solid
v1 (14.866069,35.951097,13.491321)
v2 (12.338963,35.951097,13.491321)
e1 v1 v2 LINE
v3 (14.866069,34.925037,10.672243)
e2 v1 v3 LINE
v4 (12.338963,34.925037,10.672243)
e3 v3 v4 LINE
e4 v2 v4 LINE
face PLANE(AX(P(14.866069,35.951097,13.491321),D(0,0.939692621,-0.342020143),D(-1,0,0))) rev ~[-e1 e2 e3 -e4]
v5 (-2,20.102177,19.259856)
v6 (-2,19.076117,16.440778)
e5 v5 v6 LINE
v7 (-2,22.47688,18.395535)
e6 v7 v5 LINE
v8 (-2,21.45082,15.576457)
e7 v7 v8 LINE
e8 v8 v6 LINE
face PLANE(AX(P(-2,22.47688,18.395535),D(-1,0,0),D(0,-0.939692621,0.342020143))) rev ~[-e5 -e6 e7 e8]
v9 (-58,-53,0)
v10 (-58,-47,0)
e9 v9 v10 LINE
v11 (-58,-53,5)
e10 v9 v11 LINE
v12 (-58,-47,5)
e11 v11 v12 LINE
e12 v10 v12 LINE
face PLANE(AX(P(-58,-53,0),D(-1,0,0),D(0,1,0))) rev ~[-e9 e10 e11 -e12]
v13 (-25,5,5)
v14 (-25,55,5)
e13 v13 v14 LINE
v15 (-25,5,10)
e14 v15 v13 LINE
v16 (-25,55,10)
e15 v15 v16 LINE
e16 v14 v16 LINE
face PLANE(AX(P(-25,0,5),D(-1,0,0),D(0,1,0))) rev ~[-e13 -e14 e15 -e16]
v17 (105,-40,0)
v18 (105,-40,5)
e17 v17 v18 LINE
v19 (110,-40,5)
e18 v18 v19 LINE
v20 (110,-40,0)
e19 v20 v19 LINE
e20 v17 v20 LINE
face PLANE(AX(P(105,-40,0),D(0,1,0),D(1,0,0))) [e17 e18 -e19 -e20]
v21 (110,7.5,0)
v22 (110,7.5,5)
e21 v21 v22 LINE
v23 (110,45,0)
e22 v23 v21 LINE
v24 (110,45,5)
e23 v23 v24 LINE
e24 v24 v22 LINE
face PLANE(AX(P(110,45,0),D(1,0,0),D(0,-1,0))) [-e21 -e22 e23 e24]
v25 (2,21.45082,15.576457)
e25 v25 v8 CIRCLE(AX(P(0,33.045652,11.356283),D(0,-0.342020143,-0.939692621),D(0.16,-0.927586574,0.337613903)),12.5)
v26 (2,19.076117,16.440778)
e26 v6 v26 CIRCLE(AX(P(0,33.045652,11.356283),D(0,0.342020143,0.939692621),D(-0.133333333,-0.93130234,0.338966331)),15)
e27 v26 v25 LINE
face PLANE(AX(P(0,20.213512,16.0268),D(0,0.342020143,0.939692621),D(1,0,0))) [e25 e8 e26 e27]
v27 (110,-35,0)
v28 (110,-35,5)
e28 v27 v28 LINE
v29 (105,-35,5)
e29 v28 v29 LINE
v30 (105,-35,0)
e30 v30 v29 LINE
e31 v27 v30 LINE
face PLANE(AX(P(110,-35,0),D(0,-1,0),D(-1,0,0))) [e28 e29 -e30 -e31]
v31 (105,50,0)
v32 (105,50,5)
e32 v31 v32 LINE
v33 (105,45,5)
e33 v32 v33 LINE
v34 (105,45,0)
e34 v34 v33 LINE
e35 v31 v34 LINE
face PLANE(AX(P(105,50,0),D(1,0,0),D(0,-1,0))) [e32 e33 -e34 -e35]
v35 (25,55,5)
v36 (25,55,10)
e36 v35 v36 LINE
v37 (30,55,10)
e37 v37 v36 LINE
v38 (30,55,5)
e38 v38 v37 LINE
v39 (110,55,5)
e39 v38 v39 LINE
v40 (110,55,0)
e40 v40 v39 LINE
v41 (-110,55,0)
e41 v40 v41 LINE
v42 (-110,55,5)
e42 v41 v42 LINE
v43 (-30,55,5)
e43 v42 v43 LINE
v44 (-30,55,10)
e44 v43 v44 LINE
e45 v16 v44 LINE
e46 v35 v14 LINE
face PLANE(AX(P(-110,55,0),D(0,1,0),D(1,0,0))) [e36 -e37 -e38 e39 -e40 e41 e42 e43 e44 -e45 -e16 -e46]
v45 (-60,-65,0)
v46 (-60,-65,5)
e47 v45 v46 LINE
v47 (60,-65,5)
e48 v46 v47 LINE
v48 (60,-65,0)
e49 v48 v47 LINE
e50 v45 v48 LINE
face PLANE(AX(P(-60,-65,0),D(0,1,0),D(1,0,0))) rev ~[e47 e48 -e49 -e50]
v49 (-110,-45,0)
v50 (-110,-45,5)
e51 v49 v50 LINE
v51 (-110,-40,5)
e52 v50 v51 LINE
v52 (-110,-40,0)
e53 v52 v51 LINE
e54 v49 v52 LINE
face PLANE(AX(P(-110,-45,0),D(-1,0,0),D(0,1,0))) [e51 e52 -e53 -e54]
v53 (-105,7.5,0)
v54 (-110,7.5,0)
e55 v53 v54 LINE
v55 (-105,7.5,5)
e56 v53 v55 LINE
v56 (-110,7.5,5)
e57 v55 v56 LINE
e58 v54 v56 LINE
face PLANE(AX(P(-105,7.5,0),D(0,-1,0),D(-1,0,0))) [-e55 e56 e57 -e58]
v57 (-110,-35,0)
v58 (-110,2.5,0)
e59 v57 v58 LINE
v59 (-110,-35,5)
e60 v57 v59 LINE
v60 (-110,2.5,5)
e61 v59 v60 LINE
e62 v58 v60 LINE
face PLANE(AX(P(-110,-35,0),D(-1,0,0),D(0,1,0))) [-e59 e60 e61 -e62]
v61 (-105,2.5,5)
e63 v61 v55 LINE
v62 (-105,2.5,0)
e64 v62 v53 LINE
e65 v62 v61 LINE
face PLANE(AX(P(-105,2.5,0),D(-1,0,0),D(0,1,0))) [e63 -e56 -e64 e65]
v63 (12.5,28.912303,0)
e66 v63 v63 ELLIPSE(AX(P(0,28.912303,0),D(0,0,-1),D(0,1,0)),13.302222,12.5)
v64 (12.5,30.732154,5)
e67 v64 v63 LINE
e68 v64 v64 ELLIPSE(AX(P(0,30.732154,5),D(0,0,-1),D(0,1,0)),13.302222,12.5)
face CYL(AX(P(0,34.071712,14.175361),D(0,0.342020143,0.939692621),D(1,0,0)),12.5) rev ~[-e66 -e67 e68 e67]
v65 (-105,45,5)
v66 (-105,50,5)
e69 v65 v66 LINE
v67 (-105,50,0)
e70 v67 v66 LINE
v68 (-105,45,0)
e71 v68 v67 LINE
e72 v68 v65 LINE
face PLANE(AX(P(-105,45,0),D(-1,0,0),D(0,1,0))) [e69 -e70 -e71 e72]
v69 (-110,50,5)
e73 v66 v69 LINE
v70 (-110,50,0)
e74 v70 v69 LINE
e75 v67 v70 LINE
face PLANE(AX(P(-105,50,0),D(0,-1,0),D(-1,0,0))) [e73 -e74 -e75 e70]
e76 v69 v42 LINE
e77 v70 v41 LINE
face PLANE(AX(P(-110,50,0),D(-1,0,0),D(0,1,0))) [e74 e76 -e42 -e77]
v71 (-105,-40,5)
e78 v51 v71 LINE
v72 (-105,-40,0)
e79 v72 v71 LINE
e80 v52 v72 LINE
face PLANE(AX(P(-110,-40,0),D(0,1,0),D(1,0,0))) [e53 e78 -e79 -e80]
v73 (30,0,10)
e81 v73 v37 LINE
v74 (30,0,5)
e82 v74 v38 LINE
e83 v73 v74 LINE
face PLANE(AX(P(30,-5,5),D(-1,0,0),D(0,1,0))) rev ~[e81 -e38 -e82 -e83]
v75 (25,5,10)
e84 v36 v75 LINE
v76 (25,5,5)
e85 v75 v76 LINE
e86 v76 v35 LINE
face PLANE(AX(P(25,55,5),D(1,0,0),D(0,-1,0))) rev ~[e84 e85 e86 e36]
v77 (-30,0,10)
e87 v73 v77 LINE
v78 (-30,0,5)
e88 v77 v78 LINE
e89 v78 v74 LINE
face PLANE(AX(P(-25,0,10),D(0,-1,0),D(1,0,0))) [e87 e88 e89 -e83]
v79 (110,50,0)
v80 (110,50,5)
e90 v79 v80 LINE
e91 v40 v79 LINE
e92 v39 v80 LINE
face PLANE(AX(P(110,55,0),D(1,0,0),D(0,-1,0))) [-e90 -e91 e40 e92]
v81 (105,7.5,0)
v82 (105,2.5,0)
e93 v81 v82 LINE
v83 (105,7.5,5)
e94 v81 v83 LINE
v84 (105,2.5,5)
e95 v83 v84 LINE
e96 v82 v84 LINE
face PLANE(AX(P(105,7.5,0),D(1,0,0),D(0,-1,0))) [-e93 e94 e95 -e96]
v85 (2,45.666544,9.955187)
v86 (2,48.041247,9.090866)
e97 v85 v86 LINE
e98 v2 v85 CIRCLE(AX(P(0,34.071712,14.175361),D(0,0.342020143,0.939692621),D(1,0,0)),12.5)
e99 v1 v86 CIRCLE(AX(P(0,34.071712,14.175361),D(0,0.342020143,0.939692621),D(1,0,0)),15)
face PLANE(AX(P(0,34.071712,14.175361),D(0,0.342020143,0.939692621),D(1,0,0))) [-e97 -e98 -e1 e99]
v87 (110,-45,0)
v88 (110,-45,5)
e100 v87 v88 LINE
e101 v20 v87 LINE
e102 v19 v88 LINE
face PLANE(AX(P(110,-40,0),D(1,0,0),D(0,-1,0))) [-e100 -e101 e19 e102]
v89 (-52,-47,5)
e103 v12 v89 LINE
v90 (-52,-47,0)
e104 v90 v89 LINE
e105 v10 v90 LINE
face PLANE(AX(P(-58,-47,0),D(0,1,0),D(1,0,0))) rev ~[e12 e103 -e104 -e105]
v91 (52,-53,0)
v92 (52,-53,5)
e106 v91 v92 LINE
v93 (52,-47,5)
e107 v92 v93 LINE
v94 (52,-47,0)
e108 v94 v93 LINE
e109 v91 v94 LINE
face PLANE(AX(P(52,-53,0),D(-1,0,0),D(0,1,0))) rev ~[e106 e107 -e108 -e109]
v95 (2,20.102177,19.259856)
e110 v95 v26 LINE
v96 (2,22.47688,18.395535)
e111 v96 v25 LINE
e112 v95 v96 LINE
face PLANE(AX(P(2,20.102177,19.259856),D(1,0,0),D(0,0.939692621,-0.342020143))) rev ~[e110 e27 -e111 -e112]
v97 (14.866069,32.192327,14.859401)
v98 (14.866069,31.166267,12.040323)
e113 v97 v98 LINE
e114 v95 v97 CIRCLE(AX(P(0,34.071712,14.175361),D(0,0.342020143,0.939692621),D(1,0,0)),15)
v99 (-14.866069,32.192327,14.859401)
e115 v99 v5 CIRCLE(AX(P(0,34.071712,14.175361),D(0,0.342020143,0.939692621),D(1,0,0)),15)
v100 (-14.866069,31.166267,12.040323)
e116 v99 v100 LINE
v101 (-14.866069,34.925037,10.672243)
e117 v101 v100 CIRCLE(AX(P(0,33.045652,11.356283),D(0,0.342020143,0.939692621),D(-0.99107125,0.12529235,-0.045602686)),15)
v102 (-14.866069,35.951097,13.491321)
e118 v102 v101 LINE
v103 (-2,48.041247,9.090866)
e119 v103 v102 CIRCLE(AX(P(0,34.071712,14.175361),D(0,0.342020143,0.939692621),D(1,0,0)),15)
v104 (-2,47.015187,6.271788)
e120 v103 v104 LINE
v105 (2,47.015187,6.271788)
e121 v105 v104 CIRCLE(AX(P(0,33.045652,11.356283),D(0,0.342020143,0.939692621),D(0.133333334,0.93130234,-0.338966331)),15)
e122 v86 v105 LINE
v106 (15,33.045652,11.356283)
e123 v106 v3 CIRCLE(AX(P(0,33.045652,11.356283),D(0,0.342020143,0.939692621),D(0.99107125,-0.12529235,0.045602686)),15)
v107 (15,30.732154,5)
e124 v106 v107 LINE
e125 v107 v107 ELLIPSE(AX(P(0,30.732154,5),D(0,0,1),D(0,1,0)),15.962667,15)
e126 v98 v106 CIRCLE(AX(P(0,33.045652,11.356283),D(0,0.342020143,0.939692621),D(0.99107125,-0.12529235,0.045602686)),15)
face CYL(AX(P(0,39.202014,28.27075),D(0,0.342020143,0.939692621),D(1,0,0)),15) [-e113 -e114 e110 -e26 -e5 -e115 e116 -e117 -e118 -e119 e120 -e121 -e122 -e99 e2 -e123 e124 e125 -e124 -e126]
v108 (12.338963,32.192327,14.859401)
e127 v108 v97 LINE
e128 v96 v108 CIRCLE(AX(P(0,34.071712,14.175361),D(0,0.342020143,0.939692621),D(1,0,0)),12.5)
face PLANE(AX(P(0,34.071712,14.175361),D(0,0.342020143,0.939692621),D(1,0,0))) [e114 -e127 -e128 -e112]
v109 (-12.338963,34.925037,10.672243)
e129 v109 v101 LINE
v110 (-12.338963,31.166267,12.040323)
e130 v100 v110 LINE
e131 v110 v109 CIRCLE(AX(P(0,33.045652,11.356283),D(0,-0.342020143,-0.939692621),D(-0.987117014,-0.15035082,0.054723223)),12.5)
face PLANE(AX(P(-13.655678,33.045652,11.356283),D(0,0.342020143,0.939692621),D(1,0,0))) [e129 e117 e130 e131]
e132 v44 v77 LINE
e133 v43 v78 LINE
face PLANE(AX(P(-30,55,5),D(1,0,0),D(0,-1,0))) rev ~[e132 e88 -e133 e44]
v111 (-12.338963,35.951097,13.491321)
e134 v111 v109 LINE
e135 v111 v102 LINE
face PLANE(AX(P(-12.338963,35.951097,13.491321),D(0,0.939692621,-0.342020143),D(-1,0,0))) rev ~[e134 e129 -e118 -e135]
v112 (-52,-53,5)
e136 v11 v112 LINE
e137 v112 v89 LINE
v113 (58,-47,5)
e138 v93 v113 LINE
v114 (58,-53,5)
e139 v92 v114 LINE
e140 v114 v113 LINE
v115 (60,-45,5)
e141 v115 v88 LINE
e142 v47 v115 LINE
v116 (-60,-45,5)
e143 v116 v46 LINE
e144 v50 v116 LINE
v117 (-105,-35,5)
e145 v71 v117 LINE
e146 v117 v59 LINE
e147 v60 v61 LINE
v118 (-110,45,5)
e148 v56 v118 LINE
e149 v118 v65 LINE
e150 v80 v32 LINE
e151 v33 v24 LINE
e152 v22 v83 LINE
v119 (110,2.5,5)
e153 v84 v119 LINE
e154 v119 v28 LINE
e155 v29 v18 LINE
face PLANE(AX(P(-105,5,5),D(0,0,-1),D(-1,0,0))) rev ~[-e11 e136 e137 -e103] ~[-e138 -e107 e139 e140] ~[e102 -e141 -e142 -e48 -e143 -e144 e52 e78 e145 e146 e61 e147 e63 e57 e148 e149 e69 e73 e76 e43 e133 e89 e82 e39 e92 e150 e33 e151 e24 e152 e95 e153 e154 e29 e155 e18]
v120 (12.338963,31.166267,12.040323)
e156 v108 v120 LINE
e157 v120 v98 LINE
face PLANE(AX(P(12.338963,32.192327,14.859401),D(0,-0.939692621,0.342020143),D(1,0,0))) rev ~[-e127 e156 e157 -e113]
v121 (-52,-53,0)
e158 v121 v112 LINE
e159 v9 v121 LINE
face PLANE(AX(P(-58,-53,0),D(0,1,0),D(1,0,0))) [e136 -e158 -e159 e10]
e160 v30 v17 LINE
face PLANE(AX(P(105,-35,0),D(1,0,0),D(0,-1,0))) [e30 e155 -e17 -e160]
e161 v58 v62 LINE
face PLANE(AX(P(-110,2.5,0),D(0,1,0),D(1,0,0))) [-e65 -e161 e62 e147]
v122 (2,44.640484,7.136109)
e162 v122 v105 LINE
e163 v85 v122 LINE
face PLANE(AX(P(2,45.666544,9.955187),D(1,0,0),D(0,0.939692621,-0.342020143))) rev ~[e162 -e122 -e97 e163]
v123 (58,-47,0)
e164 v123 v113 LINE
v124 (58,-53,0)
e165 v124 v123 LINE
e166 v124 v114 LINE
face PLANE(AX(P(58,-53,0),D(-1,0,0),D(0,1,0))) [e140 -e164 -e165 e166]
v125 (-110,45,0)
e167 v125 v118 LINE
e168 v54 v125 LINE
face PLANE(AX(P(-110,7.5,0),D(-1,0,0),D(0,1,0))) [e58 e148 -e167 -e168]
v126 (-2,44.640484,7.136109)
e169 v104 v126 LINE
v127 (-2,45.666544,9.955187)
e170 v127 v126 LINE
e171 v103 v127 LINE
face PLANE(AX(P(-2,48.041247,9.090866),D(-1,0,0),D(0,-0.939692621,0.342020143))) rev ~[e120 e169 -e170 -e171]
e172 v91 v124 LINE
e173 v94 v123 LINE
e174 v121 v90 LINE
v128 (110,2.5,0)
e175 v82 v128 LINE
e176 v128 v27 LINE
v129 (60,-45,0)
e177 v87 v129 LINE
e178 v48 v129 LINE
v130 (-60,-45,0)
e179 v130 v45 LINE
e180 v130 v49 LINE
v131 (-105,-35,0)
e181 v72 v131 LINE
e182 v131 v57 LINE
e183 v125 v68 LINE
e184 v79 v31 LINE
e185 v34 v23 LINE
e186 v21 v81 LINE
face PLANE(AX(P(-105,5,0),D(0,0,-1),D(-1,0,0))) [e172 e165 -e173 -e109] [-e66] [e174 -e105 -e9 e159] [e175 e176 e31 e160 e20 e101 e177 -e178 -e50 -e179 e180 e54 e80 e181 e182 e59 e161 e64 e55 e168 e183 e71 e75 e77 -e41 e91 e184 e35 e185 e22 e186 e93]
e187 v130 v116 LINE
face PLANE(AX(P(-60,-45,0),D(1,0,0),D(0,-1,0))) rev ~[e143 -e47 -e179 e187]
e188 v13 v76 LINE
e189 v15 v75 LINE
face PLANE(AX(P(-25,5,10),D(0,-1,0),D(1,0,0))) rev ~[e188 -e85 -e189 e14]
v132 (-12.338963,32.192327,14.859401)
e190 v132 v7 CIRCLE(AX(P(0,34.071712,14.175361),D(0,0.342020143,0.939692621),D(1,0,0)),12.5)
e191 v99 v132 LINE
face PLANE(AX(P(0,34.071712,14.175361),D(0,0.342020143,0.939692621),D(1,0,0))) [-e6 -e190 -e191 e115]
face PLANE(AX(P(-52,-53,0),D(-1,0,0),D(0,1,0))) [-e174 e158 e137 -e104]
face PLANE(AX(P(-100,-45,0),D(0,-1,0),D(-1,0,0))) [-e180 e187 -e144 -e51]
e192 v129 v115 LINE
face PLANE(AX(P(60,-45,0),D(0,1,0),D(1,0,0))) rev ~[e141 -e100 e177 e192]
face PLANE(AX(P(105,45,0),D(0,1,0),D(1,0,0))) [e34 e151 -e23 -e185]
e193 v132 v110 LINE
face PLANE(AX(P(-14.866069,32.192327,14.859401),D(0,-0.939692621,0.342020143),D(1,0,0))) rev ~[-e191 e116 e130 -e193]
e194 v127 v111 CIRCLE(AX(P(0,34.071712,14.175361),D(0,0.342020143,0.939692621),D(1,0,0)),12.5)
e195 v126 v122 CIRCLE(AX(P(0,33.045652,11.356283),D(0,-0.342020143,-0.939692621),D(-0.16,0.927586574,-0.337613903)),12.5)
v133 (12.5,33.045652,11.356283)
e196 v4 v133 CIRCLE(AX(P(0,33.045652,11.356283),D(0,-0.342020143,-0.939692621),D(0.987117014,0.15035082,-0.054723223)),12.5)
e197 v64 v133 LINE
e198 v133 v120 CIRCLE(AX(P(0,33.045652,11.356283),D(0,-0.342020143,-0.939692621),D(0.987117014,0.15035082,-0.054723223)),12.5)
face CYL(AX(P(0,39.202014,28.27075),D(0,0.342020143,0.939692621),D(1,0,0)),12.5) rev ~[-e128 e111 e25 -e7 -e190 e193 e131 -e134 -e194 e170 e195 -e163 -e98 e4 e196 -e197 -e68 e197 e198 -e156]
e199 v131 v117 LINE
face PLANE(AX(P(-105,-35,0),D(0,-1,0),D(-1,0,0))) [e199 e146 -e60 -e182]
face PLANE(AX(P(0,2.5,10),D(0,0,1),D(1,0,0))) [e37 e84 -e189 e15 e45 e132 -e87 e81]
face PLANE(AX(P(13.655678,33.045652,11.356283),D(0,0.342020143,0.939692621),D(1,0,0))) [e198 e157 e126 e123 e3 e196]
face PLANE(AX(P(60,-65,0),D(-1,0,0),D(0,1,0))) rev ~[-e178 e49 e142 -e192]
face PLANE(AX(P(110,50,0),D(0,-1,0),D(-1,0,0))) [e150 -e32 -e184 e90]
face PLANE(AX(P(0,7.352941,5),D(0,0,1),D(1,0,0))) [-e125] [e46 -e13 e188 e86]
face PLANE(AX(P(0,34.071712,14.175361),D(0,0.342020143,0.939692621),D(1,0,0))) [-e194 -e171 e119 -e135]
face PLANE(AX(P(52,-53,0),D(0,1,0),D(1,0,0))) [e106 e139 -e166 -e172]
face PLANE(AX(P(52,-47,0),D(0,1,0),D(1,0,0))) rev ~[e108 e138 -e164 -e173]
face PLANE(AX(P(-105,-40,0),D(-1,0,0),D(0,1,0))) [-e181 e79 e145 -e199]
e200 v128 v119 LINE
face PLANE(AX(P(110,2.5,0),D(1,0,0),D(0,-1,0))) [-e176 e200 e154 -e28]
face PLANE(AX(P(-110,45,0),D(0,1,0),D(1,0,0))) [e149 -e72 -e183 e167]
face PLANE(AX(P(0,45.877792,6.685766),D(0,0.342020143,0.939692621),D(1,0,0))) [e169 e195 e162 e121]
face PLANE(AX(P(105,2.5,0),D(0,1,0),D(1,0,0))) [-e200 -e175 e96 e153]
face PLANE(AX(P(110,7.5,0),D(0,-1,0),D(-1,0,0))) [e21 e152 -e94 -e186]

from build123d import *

# Parameters (mm, degrees)
SKETCH2_W            = 6
SKETCH2_H            = 6
BOSS_EXTRUDE1_DEPTH  = 5
SKETCH3_W            = 200
SKETCH3_H            = 20
CUT_EXTRUDE1_DEPTH   = 5
SKETCH6_W            = 100
SKETCH6_H            = 20
BOSS_EXTRUDE2_DEPTH  = 100
BOSS_EXTRUDE3_DEPTH  = 100
CUT_EXTRUDE4_DEPTH   = 100
BOSS_EXTRUDE5_DEPTH  = 100
SKETCH14_R           = 12.5
CUT_EXTRUDE5_DEPTH   = 100
SKETCH15_R           = 15
SKETCH15_R_2         = 12.5
BOSS_EXTRUDE6_DEPTH  = 40
SKETCH16_W           = 50
SKETCH16_H           = 61.072294376
CUT_EXTRUDE10_DEPTH  = 35
SKETCH15_4_R         = 15
SKETCH15_4_R_2       = 12.5
CUT_EXTRUDE11_DEPTH  = 15
BOSS_EXTRUDE7_DEPTH  = 5
SKETCH23_R           = 15
SKETCH23_R_2         = 12.5
BOSS_EXTRUDE8_DEPTH  = 25
SKETCH21_W           = 50
SKETCH21_H           = 55
CUT_EXTRUDE12_DEPTH  = 35
SKETCH22_W           = 50
SKETCH22_H           = 55
BOSS_EXTRUDE9_DEPTH  = 5
SKETCH23_3_R         = 12.5
CUT_EXTRUDE13_DEPTH  = 20
CUT_EXTRUDE15_DEPTH  = 3
CUT_EXTRUDE16_DEPTH  = 5
SKETCH28_3_W         = 50
SKETCH28_3_H         = 5
BOSS_EXTRUDE12_DEPTH = 5
SKETCH30_W           = 200
SKETCH30_H           = 120
CUT_EXTRUDE17_DEPTH  = 100
BOSS_EXTRUDE13_DEPTH = 5


with BuildPart() as part:
    # Sketch2 → Boss-Extrude1 (new body)
    with BuildSketch(Plane.XY):
        Polygon((-100, 75), (-100, -45), (-60, -45), (-60, -65), (0, -65), (60, -65), (60, -45), (100, -45), (100, 75), align=None)
        with Locations((55, -50)):
            Rectangle(SKETCH2_W, SKETCH2_H, mode=Mode.SUBTRACT)
        with Locations((-55, -50)):
            Rectangle(SKETCH2_W, SKETCH2_H, mode=Mode.SUBTRACT)
    extrude(amount=BOSS_EXTRUDE1_DEPTH)

    # Sketch3 → Cut-Extrude1 (cut)
    with BuildSketch(Plane.XY.offset(5)):
        with Locations((0, 65)):
            Rectangle(SKETCH3_W, SKETCH3_H)
    extrude(amount=-CUT_EXTRUDE1_DEPTH, mode=Mode.SUBTRACT)

    # Sketch6 → Boss-Extrude2 (add)
    with BuildSketch(Plane(origin=(0, 0, 0), x_dir=(-1, 0, 0), z_dir=(0, 0, -1))):
        with Locations((0, -55)):
            Rectangle(SKETCH6_W, SKETCH6_H)
    extrude(amount=BOSS_EXTRUDE2_DEPTH)

    # Sketch8 → Boss-Extrude3 (add)
    with BuildSketch(Plane(origin=(50, 0, 0), x_dir=(0, 0, -1), z_dir=(1, 0, 0))):
        Polygon((42.17911114, -45), (100, -45), (100, 55), (78.57613456, 55), (63.797824283, 14.396926208), (60.37762285, 5), (56.957421417, -4.396926208), align=None)
    extrude(amount=-BOSS_EXTRUDE3_DEPTH)

    # Sketch12 → Cut-Extrude4 (cut)
    with BuildSketch(Plane(origin=(50, 0, 0), x_dir=(0, 0, -1), z_dir=(1, 0, 0))):
        Polygon((78.57613456, 55), (42.17911114, -45), (47.5, -45), (83.89702342, 55), align=None)
    extrude(amount=-CUT_EXTRUDE4_DEPTH, mode=Mode.SUBTRACT)

    # Sketch13 → Boss-Extrude5 (add)
    with BuildSketch(Plane(origin=(0, -20.530205756, -56.406276742), x_dir=(1, 0, 0), z_dir=(0, 0.34202014327073604, 0.9396926208059022))):
        with BuildLine():
            ThreePointArc((10, 27.168677492), (7.071067812, 34.239745304), (0, 37.168677492))
            ThreePointArc((0, 37.168677492), (-7.071067812, 20.09760968), (10, 27.168677492))
        make_face()
    extrude(amount=BOSS_EXTRUDE5_DEPTH)

    # Sketch14 → Cut-Extrude5 (cut)
    with BuildSketch(Plane(origin=(0, 13.671808571, 37.562985339), x_dir=(1, 0, 0), z_dir=(0, 0.3420201432707361, 0.9396926208059023))):
        with Locations((0, 27.168677492)):
            Circle(SKETCH14_R)
    extrude(amount=-CUT_EXTRUDE5_DEPTH, mode=Mode.SUBTRACT)

    # Sketch15 → Boss-Extrude6 (add)
    with BuildSketch(Plane(origin=(0, 13.671808571, 37.562985339), x_dir=(1, 0, 0), z_dir=(0, 0.3420201432707362, 0.9396926208059023))):
        with Locations((0, 27.168677492)):
            Circle(SKETCH15_R)
        with Locations((0, 27.168677492)):
            Circle(SKETCH15_R_2, mode=Mode.SUBTRACT)
    extrude(amount=-BOSS_EXTRUDE6_DEPTH)

    # Sketch16 → Cut-Extrude10 (cut)
    with BuildSketch(Plane(origin=(0, 0, -30), x_dir=(-1, 0, 0), z_dir=(0, 0, -1))):
        with Locations((0, 30.536147188)):
            Rectangle(SKETCH16_W, SKETCH16_H)
    extrude(amount=-CUT_EXTRUDE10_DEPTH, mode=Mode.SUBTRACT)


with BuildPart() as cut_extrude10_piece_1:
    # of the separate pieces the step leaves, piece 1, a body of its own (cut_extrude10_pieces)
    add(part.part.solids().sort_by_distance((-100, 55, 0))[0])

    # Sketch18 → Boss-Extrude7 (add)
    with BuildSketch(Plane.XY.offset(5)):
        Polygon((30, 55), (25, 55), (25, 0), (-25, 0), (-25, 55), (-30, 55), (-30, -5), (30, -5), (30, 0), align=None)
    extrude(amount=BOSS_EXTRUDE7_DEPTH)



with BuildPart() as cut_extrude10_piece_2:
    # of the separate pieces the step leaves, piece 2, a body of its own (cut_extrude10_pieces)
    add(part.part.solids().sort_by_distance((15, 39.202014327, 28.270750371))[0])

    # Sketch15<4> → Cut-Extrude11 (cut)
    with BuildSketch(Plane(origin=(0, 13.671808571, 37.562985339), x_dir=(1, 0, 0), z_dir=(0, 0.3420201432707362, 0.9396926208059023))):
        with Locations((0, 27.168677492)):
            Circle(SKETCH15_4_R)
        with Locations((0, 27.168677492)):
            Circle(SKETCH15_4_R_2, mode=Mode.SUBTRACT)
    extrude(amount=-CUT_EXTRUDE11_DEPTH, mode=Mode.SUBTRACT)

    # Sketch23 → Boss-Extrude8 (add)
    with BuildSketch(Plane(origin=(0, 8.541506422, 23.467596027), x_dir=(1, 0, 0), z_dir=(0, 0.34202014327073627, 0.9396926208059023))):
        with Locations((0, 27.168677492)):
            Circle(SKETCH23_R)
        with Locations((0, 27.168677492)):
            Circle(SKETCH23_R_2, mode=Mode.SUBTRACT)
    extrude(amount=-BOSS_EXTRUDE8_DEPTH)

    # Sketch21 → Cut-Extrude12 (cut)
    with BuildSketch(Plane(origin=(0, 0, -30), x_dir=(-1, 0, 0), z_dir=(0, 0, -1))):
        with Locations((0, 27.5)):
            Rectangle(SKETCH21_W, SKETCH21_H)
    extrude(amount=-CUT_EXTRUDE12_DEPTH, mode=Mode.SUBTRACT)


with BuildPart() as cut_extrude10_piece_1_1:
    add(cut_extrude10_piece_1.part)

    add(cut_extrude10_piece_2.part)  # Boss-Extrude9 merges Cut-Extrude10 piece 2
    # Sketch22 → Boss-Extrude9 (add)
    with BuildSketch(Plane(origin=(0, 0, 0), x_dir=(-1, 0, 0), z_dir=(0, 0, -1))):
        with Locations((0, 27.5)):
            Rectangle(SKETCH22_W, SKETCH22_H)
    extrude(amount=-BOSS_EXTRUDE9_DEPTH)

    # Sketch23<3> → Cut-Extrude13 (cut)
    with BuildSketch(Plane(origin=(0, 8.541506422, 23.467596027), x_dir=(1, 0, 0), z_dir=(0, 0.34202014327073627, 0.9396926208059023))):
        with Locations((0, 27.168677492)):
            Circle(SKETCH23_3_R)
    extrude(amount=-CUT_EXTRUDE13_DEPTH, mode=Mode.SUBTRACT)

    # Sketch27 → Cut-Extrude15 (cut)
    with BuildSketch(Plane(origin=(0, 8.541506422, 23.467596027), x_dir=(1, 0, 0), z_dir=(0, 0.34202014327073627, 0.9396926208059023))):
        with BuildLine():
            ThreePointArc((2, 42.034746239), (0, 42.168677492), (-2, 42.034746239))
            Line((-2, 42.034746239), (-2, 39.507640171))
            ThreePointArc((-2, 39.507640171), (0, 39.668677492), (2, 39.507640171))
            Line((2, 39.507640171), (2, 42.034746239))
        make_face()
        with BuildLine():
            Line((-12.338962679, 29.168677492), (-14.866068747, 29.168677492))
            ThreePointArc((-14.866068747, 29.168677492), (-15, 27.168677492), (-14.866068747, 25.168677492))
            Line((-14.866068747, 25.168677492), (-12.338962679, 25.168677492))
            ThreePointArc((-12.338962679, 25.168677492), (-12.5, 27.168677492), (-12.338962679, 29.168677492))
        make_face()
        with BuildLine():
            ThreePointArc((14.866068747, 25.168677492), (15, 27.168677492), (14.866068747, 29.168677492))
            Line((14.866068747, 29.168677492), (12.338962679, 29.168677492))
            ThreePointArc((12.338962679, 29.168677492), (12.5, 27.168677492), (12.338962679, 25.168677492))
            Line((12.338962679, 25.168677492), (14.866068747, 25.168677492))
        make_face()
        with BuildLine():
            ThreePointArc((2, 14.829714813), (0, 14.668677492), (-2, 14.829714813))
            Line((-2, 14.829714813), (-2, 12.302608744))
            ThreePointArc((-2, 12.302608744), (0, 12.168677492), (2, 12.302608744))
            Line((2, 12.302608744), (2, 14.829714813))
        make_face()
    extrude(amount=-CUT_EXTRUDE15_DEPTH, mode=Mode.SUBTRACT)

    # Sketch28 → Cut-Extrude16 (cut)
    with BuildSketch(Plane.XY.offset(10)):
        Polygon((25, 0), (-25, 0), (-30, 0), (-30, -5), (30, -5), (30, 0), align=None)
    extrude(amount=-CUT_EXTRUDE16_DEPTH, mode=Mode.SUBTRACT)

    # Sketch28<3> → Boss-Extrude12 (add)
    with BuildSketch(Plane.XY.offset(10)):
        with Locations((0, 2.5)):
            Rectangle(SKETCH28_3_W, SKETCH28_3_H)
    extrude(amount=-BOSS_EXTRUDE12_DEPTH)

    # Sketch30 → Cut-Extrude17 (cut)
    with BuildSketch(Plane(origin=(0, 0, -100), x_dir=(-1, 0, 0), z_dir=(0, 0, -1))):
        with Locations((0, -5)):
            Rectangle(SKETCH30_W, SKETCH30_H)
    extrude(amount=-CUT_EXTRUDE17_DEPTH, mode=Mode.SUBTRACT)

    # Sketch31 → Boss-Extrude13 (add)
    with BuildSketch(Plane(origin=(0, 0, 0), x_dir=(-1, 0, 0), z_dir=(0, 0, -1))):
        Polygon((110, 55), (100, 55), (100, -45), (110, -45), (110, -40), (105, -40), (105, -35), (110, -35), (110, 2.5), (105, 2.5), (105, 7.5), (110, 7.5), (110, 45), (105, 45), (105, 50), (110, 50), align=None)
        Polygon((-100, -45), (-100, 55), (-110, 55), (-110, 50), (-105, 50), (-105, 45), (-110, 45), (-110, 7.5), (-105, 7.5), (-105, 2.5), (-110, 2.5), (-110, -35), (-105, -35), (-105, -40), (-110, -40), (-110, -45), align=None)
    extrude(amount=-BOSS_EXTRUDE13_DEPTH)


solid = cut_extrude10_piece_1_1.part
